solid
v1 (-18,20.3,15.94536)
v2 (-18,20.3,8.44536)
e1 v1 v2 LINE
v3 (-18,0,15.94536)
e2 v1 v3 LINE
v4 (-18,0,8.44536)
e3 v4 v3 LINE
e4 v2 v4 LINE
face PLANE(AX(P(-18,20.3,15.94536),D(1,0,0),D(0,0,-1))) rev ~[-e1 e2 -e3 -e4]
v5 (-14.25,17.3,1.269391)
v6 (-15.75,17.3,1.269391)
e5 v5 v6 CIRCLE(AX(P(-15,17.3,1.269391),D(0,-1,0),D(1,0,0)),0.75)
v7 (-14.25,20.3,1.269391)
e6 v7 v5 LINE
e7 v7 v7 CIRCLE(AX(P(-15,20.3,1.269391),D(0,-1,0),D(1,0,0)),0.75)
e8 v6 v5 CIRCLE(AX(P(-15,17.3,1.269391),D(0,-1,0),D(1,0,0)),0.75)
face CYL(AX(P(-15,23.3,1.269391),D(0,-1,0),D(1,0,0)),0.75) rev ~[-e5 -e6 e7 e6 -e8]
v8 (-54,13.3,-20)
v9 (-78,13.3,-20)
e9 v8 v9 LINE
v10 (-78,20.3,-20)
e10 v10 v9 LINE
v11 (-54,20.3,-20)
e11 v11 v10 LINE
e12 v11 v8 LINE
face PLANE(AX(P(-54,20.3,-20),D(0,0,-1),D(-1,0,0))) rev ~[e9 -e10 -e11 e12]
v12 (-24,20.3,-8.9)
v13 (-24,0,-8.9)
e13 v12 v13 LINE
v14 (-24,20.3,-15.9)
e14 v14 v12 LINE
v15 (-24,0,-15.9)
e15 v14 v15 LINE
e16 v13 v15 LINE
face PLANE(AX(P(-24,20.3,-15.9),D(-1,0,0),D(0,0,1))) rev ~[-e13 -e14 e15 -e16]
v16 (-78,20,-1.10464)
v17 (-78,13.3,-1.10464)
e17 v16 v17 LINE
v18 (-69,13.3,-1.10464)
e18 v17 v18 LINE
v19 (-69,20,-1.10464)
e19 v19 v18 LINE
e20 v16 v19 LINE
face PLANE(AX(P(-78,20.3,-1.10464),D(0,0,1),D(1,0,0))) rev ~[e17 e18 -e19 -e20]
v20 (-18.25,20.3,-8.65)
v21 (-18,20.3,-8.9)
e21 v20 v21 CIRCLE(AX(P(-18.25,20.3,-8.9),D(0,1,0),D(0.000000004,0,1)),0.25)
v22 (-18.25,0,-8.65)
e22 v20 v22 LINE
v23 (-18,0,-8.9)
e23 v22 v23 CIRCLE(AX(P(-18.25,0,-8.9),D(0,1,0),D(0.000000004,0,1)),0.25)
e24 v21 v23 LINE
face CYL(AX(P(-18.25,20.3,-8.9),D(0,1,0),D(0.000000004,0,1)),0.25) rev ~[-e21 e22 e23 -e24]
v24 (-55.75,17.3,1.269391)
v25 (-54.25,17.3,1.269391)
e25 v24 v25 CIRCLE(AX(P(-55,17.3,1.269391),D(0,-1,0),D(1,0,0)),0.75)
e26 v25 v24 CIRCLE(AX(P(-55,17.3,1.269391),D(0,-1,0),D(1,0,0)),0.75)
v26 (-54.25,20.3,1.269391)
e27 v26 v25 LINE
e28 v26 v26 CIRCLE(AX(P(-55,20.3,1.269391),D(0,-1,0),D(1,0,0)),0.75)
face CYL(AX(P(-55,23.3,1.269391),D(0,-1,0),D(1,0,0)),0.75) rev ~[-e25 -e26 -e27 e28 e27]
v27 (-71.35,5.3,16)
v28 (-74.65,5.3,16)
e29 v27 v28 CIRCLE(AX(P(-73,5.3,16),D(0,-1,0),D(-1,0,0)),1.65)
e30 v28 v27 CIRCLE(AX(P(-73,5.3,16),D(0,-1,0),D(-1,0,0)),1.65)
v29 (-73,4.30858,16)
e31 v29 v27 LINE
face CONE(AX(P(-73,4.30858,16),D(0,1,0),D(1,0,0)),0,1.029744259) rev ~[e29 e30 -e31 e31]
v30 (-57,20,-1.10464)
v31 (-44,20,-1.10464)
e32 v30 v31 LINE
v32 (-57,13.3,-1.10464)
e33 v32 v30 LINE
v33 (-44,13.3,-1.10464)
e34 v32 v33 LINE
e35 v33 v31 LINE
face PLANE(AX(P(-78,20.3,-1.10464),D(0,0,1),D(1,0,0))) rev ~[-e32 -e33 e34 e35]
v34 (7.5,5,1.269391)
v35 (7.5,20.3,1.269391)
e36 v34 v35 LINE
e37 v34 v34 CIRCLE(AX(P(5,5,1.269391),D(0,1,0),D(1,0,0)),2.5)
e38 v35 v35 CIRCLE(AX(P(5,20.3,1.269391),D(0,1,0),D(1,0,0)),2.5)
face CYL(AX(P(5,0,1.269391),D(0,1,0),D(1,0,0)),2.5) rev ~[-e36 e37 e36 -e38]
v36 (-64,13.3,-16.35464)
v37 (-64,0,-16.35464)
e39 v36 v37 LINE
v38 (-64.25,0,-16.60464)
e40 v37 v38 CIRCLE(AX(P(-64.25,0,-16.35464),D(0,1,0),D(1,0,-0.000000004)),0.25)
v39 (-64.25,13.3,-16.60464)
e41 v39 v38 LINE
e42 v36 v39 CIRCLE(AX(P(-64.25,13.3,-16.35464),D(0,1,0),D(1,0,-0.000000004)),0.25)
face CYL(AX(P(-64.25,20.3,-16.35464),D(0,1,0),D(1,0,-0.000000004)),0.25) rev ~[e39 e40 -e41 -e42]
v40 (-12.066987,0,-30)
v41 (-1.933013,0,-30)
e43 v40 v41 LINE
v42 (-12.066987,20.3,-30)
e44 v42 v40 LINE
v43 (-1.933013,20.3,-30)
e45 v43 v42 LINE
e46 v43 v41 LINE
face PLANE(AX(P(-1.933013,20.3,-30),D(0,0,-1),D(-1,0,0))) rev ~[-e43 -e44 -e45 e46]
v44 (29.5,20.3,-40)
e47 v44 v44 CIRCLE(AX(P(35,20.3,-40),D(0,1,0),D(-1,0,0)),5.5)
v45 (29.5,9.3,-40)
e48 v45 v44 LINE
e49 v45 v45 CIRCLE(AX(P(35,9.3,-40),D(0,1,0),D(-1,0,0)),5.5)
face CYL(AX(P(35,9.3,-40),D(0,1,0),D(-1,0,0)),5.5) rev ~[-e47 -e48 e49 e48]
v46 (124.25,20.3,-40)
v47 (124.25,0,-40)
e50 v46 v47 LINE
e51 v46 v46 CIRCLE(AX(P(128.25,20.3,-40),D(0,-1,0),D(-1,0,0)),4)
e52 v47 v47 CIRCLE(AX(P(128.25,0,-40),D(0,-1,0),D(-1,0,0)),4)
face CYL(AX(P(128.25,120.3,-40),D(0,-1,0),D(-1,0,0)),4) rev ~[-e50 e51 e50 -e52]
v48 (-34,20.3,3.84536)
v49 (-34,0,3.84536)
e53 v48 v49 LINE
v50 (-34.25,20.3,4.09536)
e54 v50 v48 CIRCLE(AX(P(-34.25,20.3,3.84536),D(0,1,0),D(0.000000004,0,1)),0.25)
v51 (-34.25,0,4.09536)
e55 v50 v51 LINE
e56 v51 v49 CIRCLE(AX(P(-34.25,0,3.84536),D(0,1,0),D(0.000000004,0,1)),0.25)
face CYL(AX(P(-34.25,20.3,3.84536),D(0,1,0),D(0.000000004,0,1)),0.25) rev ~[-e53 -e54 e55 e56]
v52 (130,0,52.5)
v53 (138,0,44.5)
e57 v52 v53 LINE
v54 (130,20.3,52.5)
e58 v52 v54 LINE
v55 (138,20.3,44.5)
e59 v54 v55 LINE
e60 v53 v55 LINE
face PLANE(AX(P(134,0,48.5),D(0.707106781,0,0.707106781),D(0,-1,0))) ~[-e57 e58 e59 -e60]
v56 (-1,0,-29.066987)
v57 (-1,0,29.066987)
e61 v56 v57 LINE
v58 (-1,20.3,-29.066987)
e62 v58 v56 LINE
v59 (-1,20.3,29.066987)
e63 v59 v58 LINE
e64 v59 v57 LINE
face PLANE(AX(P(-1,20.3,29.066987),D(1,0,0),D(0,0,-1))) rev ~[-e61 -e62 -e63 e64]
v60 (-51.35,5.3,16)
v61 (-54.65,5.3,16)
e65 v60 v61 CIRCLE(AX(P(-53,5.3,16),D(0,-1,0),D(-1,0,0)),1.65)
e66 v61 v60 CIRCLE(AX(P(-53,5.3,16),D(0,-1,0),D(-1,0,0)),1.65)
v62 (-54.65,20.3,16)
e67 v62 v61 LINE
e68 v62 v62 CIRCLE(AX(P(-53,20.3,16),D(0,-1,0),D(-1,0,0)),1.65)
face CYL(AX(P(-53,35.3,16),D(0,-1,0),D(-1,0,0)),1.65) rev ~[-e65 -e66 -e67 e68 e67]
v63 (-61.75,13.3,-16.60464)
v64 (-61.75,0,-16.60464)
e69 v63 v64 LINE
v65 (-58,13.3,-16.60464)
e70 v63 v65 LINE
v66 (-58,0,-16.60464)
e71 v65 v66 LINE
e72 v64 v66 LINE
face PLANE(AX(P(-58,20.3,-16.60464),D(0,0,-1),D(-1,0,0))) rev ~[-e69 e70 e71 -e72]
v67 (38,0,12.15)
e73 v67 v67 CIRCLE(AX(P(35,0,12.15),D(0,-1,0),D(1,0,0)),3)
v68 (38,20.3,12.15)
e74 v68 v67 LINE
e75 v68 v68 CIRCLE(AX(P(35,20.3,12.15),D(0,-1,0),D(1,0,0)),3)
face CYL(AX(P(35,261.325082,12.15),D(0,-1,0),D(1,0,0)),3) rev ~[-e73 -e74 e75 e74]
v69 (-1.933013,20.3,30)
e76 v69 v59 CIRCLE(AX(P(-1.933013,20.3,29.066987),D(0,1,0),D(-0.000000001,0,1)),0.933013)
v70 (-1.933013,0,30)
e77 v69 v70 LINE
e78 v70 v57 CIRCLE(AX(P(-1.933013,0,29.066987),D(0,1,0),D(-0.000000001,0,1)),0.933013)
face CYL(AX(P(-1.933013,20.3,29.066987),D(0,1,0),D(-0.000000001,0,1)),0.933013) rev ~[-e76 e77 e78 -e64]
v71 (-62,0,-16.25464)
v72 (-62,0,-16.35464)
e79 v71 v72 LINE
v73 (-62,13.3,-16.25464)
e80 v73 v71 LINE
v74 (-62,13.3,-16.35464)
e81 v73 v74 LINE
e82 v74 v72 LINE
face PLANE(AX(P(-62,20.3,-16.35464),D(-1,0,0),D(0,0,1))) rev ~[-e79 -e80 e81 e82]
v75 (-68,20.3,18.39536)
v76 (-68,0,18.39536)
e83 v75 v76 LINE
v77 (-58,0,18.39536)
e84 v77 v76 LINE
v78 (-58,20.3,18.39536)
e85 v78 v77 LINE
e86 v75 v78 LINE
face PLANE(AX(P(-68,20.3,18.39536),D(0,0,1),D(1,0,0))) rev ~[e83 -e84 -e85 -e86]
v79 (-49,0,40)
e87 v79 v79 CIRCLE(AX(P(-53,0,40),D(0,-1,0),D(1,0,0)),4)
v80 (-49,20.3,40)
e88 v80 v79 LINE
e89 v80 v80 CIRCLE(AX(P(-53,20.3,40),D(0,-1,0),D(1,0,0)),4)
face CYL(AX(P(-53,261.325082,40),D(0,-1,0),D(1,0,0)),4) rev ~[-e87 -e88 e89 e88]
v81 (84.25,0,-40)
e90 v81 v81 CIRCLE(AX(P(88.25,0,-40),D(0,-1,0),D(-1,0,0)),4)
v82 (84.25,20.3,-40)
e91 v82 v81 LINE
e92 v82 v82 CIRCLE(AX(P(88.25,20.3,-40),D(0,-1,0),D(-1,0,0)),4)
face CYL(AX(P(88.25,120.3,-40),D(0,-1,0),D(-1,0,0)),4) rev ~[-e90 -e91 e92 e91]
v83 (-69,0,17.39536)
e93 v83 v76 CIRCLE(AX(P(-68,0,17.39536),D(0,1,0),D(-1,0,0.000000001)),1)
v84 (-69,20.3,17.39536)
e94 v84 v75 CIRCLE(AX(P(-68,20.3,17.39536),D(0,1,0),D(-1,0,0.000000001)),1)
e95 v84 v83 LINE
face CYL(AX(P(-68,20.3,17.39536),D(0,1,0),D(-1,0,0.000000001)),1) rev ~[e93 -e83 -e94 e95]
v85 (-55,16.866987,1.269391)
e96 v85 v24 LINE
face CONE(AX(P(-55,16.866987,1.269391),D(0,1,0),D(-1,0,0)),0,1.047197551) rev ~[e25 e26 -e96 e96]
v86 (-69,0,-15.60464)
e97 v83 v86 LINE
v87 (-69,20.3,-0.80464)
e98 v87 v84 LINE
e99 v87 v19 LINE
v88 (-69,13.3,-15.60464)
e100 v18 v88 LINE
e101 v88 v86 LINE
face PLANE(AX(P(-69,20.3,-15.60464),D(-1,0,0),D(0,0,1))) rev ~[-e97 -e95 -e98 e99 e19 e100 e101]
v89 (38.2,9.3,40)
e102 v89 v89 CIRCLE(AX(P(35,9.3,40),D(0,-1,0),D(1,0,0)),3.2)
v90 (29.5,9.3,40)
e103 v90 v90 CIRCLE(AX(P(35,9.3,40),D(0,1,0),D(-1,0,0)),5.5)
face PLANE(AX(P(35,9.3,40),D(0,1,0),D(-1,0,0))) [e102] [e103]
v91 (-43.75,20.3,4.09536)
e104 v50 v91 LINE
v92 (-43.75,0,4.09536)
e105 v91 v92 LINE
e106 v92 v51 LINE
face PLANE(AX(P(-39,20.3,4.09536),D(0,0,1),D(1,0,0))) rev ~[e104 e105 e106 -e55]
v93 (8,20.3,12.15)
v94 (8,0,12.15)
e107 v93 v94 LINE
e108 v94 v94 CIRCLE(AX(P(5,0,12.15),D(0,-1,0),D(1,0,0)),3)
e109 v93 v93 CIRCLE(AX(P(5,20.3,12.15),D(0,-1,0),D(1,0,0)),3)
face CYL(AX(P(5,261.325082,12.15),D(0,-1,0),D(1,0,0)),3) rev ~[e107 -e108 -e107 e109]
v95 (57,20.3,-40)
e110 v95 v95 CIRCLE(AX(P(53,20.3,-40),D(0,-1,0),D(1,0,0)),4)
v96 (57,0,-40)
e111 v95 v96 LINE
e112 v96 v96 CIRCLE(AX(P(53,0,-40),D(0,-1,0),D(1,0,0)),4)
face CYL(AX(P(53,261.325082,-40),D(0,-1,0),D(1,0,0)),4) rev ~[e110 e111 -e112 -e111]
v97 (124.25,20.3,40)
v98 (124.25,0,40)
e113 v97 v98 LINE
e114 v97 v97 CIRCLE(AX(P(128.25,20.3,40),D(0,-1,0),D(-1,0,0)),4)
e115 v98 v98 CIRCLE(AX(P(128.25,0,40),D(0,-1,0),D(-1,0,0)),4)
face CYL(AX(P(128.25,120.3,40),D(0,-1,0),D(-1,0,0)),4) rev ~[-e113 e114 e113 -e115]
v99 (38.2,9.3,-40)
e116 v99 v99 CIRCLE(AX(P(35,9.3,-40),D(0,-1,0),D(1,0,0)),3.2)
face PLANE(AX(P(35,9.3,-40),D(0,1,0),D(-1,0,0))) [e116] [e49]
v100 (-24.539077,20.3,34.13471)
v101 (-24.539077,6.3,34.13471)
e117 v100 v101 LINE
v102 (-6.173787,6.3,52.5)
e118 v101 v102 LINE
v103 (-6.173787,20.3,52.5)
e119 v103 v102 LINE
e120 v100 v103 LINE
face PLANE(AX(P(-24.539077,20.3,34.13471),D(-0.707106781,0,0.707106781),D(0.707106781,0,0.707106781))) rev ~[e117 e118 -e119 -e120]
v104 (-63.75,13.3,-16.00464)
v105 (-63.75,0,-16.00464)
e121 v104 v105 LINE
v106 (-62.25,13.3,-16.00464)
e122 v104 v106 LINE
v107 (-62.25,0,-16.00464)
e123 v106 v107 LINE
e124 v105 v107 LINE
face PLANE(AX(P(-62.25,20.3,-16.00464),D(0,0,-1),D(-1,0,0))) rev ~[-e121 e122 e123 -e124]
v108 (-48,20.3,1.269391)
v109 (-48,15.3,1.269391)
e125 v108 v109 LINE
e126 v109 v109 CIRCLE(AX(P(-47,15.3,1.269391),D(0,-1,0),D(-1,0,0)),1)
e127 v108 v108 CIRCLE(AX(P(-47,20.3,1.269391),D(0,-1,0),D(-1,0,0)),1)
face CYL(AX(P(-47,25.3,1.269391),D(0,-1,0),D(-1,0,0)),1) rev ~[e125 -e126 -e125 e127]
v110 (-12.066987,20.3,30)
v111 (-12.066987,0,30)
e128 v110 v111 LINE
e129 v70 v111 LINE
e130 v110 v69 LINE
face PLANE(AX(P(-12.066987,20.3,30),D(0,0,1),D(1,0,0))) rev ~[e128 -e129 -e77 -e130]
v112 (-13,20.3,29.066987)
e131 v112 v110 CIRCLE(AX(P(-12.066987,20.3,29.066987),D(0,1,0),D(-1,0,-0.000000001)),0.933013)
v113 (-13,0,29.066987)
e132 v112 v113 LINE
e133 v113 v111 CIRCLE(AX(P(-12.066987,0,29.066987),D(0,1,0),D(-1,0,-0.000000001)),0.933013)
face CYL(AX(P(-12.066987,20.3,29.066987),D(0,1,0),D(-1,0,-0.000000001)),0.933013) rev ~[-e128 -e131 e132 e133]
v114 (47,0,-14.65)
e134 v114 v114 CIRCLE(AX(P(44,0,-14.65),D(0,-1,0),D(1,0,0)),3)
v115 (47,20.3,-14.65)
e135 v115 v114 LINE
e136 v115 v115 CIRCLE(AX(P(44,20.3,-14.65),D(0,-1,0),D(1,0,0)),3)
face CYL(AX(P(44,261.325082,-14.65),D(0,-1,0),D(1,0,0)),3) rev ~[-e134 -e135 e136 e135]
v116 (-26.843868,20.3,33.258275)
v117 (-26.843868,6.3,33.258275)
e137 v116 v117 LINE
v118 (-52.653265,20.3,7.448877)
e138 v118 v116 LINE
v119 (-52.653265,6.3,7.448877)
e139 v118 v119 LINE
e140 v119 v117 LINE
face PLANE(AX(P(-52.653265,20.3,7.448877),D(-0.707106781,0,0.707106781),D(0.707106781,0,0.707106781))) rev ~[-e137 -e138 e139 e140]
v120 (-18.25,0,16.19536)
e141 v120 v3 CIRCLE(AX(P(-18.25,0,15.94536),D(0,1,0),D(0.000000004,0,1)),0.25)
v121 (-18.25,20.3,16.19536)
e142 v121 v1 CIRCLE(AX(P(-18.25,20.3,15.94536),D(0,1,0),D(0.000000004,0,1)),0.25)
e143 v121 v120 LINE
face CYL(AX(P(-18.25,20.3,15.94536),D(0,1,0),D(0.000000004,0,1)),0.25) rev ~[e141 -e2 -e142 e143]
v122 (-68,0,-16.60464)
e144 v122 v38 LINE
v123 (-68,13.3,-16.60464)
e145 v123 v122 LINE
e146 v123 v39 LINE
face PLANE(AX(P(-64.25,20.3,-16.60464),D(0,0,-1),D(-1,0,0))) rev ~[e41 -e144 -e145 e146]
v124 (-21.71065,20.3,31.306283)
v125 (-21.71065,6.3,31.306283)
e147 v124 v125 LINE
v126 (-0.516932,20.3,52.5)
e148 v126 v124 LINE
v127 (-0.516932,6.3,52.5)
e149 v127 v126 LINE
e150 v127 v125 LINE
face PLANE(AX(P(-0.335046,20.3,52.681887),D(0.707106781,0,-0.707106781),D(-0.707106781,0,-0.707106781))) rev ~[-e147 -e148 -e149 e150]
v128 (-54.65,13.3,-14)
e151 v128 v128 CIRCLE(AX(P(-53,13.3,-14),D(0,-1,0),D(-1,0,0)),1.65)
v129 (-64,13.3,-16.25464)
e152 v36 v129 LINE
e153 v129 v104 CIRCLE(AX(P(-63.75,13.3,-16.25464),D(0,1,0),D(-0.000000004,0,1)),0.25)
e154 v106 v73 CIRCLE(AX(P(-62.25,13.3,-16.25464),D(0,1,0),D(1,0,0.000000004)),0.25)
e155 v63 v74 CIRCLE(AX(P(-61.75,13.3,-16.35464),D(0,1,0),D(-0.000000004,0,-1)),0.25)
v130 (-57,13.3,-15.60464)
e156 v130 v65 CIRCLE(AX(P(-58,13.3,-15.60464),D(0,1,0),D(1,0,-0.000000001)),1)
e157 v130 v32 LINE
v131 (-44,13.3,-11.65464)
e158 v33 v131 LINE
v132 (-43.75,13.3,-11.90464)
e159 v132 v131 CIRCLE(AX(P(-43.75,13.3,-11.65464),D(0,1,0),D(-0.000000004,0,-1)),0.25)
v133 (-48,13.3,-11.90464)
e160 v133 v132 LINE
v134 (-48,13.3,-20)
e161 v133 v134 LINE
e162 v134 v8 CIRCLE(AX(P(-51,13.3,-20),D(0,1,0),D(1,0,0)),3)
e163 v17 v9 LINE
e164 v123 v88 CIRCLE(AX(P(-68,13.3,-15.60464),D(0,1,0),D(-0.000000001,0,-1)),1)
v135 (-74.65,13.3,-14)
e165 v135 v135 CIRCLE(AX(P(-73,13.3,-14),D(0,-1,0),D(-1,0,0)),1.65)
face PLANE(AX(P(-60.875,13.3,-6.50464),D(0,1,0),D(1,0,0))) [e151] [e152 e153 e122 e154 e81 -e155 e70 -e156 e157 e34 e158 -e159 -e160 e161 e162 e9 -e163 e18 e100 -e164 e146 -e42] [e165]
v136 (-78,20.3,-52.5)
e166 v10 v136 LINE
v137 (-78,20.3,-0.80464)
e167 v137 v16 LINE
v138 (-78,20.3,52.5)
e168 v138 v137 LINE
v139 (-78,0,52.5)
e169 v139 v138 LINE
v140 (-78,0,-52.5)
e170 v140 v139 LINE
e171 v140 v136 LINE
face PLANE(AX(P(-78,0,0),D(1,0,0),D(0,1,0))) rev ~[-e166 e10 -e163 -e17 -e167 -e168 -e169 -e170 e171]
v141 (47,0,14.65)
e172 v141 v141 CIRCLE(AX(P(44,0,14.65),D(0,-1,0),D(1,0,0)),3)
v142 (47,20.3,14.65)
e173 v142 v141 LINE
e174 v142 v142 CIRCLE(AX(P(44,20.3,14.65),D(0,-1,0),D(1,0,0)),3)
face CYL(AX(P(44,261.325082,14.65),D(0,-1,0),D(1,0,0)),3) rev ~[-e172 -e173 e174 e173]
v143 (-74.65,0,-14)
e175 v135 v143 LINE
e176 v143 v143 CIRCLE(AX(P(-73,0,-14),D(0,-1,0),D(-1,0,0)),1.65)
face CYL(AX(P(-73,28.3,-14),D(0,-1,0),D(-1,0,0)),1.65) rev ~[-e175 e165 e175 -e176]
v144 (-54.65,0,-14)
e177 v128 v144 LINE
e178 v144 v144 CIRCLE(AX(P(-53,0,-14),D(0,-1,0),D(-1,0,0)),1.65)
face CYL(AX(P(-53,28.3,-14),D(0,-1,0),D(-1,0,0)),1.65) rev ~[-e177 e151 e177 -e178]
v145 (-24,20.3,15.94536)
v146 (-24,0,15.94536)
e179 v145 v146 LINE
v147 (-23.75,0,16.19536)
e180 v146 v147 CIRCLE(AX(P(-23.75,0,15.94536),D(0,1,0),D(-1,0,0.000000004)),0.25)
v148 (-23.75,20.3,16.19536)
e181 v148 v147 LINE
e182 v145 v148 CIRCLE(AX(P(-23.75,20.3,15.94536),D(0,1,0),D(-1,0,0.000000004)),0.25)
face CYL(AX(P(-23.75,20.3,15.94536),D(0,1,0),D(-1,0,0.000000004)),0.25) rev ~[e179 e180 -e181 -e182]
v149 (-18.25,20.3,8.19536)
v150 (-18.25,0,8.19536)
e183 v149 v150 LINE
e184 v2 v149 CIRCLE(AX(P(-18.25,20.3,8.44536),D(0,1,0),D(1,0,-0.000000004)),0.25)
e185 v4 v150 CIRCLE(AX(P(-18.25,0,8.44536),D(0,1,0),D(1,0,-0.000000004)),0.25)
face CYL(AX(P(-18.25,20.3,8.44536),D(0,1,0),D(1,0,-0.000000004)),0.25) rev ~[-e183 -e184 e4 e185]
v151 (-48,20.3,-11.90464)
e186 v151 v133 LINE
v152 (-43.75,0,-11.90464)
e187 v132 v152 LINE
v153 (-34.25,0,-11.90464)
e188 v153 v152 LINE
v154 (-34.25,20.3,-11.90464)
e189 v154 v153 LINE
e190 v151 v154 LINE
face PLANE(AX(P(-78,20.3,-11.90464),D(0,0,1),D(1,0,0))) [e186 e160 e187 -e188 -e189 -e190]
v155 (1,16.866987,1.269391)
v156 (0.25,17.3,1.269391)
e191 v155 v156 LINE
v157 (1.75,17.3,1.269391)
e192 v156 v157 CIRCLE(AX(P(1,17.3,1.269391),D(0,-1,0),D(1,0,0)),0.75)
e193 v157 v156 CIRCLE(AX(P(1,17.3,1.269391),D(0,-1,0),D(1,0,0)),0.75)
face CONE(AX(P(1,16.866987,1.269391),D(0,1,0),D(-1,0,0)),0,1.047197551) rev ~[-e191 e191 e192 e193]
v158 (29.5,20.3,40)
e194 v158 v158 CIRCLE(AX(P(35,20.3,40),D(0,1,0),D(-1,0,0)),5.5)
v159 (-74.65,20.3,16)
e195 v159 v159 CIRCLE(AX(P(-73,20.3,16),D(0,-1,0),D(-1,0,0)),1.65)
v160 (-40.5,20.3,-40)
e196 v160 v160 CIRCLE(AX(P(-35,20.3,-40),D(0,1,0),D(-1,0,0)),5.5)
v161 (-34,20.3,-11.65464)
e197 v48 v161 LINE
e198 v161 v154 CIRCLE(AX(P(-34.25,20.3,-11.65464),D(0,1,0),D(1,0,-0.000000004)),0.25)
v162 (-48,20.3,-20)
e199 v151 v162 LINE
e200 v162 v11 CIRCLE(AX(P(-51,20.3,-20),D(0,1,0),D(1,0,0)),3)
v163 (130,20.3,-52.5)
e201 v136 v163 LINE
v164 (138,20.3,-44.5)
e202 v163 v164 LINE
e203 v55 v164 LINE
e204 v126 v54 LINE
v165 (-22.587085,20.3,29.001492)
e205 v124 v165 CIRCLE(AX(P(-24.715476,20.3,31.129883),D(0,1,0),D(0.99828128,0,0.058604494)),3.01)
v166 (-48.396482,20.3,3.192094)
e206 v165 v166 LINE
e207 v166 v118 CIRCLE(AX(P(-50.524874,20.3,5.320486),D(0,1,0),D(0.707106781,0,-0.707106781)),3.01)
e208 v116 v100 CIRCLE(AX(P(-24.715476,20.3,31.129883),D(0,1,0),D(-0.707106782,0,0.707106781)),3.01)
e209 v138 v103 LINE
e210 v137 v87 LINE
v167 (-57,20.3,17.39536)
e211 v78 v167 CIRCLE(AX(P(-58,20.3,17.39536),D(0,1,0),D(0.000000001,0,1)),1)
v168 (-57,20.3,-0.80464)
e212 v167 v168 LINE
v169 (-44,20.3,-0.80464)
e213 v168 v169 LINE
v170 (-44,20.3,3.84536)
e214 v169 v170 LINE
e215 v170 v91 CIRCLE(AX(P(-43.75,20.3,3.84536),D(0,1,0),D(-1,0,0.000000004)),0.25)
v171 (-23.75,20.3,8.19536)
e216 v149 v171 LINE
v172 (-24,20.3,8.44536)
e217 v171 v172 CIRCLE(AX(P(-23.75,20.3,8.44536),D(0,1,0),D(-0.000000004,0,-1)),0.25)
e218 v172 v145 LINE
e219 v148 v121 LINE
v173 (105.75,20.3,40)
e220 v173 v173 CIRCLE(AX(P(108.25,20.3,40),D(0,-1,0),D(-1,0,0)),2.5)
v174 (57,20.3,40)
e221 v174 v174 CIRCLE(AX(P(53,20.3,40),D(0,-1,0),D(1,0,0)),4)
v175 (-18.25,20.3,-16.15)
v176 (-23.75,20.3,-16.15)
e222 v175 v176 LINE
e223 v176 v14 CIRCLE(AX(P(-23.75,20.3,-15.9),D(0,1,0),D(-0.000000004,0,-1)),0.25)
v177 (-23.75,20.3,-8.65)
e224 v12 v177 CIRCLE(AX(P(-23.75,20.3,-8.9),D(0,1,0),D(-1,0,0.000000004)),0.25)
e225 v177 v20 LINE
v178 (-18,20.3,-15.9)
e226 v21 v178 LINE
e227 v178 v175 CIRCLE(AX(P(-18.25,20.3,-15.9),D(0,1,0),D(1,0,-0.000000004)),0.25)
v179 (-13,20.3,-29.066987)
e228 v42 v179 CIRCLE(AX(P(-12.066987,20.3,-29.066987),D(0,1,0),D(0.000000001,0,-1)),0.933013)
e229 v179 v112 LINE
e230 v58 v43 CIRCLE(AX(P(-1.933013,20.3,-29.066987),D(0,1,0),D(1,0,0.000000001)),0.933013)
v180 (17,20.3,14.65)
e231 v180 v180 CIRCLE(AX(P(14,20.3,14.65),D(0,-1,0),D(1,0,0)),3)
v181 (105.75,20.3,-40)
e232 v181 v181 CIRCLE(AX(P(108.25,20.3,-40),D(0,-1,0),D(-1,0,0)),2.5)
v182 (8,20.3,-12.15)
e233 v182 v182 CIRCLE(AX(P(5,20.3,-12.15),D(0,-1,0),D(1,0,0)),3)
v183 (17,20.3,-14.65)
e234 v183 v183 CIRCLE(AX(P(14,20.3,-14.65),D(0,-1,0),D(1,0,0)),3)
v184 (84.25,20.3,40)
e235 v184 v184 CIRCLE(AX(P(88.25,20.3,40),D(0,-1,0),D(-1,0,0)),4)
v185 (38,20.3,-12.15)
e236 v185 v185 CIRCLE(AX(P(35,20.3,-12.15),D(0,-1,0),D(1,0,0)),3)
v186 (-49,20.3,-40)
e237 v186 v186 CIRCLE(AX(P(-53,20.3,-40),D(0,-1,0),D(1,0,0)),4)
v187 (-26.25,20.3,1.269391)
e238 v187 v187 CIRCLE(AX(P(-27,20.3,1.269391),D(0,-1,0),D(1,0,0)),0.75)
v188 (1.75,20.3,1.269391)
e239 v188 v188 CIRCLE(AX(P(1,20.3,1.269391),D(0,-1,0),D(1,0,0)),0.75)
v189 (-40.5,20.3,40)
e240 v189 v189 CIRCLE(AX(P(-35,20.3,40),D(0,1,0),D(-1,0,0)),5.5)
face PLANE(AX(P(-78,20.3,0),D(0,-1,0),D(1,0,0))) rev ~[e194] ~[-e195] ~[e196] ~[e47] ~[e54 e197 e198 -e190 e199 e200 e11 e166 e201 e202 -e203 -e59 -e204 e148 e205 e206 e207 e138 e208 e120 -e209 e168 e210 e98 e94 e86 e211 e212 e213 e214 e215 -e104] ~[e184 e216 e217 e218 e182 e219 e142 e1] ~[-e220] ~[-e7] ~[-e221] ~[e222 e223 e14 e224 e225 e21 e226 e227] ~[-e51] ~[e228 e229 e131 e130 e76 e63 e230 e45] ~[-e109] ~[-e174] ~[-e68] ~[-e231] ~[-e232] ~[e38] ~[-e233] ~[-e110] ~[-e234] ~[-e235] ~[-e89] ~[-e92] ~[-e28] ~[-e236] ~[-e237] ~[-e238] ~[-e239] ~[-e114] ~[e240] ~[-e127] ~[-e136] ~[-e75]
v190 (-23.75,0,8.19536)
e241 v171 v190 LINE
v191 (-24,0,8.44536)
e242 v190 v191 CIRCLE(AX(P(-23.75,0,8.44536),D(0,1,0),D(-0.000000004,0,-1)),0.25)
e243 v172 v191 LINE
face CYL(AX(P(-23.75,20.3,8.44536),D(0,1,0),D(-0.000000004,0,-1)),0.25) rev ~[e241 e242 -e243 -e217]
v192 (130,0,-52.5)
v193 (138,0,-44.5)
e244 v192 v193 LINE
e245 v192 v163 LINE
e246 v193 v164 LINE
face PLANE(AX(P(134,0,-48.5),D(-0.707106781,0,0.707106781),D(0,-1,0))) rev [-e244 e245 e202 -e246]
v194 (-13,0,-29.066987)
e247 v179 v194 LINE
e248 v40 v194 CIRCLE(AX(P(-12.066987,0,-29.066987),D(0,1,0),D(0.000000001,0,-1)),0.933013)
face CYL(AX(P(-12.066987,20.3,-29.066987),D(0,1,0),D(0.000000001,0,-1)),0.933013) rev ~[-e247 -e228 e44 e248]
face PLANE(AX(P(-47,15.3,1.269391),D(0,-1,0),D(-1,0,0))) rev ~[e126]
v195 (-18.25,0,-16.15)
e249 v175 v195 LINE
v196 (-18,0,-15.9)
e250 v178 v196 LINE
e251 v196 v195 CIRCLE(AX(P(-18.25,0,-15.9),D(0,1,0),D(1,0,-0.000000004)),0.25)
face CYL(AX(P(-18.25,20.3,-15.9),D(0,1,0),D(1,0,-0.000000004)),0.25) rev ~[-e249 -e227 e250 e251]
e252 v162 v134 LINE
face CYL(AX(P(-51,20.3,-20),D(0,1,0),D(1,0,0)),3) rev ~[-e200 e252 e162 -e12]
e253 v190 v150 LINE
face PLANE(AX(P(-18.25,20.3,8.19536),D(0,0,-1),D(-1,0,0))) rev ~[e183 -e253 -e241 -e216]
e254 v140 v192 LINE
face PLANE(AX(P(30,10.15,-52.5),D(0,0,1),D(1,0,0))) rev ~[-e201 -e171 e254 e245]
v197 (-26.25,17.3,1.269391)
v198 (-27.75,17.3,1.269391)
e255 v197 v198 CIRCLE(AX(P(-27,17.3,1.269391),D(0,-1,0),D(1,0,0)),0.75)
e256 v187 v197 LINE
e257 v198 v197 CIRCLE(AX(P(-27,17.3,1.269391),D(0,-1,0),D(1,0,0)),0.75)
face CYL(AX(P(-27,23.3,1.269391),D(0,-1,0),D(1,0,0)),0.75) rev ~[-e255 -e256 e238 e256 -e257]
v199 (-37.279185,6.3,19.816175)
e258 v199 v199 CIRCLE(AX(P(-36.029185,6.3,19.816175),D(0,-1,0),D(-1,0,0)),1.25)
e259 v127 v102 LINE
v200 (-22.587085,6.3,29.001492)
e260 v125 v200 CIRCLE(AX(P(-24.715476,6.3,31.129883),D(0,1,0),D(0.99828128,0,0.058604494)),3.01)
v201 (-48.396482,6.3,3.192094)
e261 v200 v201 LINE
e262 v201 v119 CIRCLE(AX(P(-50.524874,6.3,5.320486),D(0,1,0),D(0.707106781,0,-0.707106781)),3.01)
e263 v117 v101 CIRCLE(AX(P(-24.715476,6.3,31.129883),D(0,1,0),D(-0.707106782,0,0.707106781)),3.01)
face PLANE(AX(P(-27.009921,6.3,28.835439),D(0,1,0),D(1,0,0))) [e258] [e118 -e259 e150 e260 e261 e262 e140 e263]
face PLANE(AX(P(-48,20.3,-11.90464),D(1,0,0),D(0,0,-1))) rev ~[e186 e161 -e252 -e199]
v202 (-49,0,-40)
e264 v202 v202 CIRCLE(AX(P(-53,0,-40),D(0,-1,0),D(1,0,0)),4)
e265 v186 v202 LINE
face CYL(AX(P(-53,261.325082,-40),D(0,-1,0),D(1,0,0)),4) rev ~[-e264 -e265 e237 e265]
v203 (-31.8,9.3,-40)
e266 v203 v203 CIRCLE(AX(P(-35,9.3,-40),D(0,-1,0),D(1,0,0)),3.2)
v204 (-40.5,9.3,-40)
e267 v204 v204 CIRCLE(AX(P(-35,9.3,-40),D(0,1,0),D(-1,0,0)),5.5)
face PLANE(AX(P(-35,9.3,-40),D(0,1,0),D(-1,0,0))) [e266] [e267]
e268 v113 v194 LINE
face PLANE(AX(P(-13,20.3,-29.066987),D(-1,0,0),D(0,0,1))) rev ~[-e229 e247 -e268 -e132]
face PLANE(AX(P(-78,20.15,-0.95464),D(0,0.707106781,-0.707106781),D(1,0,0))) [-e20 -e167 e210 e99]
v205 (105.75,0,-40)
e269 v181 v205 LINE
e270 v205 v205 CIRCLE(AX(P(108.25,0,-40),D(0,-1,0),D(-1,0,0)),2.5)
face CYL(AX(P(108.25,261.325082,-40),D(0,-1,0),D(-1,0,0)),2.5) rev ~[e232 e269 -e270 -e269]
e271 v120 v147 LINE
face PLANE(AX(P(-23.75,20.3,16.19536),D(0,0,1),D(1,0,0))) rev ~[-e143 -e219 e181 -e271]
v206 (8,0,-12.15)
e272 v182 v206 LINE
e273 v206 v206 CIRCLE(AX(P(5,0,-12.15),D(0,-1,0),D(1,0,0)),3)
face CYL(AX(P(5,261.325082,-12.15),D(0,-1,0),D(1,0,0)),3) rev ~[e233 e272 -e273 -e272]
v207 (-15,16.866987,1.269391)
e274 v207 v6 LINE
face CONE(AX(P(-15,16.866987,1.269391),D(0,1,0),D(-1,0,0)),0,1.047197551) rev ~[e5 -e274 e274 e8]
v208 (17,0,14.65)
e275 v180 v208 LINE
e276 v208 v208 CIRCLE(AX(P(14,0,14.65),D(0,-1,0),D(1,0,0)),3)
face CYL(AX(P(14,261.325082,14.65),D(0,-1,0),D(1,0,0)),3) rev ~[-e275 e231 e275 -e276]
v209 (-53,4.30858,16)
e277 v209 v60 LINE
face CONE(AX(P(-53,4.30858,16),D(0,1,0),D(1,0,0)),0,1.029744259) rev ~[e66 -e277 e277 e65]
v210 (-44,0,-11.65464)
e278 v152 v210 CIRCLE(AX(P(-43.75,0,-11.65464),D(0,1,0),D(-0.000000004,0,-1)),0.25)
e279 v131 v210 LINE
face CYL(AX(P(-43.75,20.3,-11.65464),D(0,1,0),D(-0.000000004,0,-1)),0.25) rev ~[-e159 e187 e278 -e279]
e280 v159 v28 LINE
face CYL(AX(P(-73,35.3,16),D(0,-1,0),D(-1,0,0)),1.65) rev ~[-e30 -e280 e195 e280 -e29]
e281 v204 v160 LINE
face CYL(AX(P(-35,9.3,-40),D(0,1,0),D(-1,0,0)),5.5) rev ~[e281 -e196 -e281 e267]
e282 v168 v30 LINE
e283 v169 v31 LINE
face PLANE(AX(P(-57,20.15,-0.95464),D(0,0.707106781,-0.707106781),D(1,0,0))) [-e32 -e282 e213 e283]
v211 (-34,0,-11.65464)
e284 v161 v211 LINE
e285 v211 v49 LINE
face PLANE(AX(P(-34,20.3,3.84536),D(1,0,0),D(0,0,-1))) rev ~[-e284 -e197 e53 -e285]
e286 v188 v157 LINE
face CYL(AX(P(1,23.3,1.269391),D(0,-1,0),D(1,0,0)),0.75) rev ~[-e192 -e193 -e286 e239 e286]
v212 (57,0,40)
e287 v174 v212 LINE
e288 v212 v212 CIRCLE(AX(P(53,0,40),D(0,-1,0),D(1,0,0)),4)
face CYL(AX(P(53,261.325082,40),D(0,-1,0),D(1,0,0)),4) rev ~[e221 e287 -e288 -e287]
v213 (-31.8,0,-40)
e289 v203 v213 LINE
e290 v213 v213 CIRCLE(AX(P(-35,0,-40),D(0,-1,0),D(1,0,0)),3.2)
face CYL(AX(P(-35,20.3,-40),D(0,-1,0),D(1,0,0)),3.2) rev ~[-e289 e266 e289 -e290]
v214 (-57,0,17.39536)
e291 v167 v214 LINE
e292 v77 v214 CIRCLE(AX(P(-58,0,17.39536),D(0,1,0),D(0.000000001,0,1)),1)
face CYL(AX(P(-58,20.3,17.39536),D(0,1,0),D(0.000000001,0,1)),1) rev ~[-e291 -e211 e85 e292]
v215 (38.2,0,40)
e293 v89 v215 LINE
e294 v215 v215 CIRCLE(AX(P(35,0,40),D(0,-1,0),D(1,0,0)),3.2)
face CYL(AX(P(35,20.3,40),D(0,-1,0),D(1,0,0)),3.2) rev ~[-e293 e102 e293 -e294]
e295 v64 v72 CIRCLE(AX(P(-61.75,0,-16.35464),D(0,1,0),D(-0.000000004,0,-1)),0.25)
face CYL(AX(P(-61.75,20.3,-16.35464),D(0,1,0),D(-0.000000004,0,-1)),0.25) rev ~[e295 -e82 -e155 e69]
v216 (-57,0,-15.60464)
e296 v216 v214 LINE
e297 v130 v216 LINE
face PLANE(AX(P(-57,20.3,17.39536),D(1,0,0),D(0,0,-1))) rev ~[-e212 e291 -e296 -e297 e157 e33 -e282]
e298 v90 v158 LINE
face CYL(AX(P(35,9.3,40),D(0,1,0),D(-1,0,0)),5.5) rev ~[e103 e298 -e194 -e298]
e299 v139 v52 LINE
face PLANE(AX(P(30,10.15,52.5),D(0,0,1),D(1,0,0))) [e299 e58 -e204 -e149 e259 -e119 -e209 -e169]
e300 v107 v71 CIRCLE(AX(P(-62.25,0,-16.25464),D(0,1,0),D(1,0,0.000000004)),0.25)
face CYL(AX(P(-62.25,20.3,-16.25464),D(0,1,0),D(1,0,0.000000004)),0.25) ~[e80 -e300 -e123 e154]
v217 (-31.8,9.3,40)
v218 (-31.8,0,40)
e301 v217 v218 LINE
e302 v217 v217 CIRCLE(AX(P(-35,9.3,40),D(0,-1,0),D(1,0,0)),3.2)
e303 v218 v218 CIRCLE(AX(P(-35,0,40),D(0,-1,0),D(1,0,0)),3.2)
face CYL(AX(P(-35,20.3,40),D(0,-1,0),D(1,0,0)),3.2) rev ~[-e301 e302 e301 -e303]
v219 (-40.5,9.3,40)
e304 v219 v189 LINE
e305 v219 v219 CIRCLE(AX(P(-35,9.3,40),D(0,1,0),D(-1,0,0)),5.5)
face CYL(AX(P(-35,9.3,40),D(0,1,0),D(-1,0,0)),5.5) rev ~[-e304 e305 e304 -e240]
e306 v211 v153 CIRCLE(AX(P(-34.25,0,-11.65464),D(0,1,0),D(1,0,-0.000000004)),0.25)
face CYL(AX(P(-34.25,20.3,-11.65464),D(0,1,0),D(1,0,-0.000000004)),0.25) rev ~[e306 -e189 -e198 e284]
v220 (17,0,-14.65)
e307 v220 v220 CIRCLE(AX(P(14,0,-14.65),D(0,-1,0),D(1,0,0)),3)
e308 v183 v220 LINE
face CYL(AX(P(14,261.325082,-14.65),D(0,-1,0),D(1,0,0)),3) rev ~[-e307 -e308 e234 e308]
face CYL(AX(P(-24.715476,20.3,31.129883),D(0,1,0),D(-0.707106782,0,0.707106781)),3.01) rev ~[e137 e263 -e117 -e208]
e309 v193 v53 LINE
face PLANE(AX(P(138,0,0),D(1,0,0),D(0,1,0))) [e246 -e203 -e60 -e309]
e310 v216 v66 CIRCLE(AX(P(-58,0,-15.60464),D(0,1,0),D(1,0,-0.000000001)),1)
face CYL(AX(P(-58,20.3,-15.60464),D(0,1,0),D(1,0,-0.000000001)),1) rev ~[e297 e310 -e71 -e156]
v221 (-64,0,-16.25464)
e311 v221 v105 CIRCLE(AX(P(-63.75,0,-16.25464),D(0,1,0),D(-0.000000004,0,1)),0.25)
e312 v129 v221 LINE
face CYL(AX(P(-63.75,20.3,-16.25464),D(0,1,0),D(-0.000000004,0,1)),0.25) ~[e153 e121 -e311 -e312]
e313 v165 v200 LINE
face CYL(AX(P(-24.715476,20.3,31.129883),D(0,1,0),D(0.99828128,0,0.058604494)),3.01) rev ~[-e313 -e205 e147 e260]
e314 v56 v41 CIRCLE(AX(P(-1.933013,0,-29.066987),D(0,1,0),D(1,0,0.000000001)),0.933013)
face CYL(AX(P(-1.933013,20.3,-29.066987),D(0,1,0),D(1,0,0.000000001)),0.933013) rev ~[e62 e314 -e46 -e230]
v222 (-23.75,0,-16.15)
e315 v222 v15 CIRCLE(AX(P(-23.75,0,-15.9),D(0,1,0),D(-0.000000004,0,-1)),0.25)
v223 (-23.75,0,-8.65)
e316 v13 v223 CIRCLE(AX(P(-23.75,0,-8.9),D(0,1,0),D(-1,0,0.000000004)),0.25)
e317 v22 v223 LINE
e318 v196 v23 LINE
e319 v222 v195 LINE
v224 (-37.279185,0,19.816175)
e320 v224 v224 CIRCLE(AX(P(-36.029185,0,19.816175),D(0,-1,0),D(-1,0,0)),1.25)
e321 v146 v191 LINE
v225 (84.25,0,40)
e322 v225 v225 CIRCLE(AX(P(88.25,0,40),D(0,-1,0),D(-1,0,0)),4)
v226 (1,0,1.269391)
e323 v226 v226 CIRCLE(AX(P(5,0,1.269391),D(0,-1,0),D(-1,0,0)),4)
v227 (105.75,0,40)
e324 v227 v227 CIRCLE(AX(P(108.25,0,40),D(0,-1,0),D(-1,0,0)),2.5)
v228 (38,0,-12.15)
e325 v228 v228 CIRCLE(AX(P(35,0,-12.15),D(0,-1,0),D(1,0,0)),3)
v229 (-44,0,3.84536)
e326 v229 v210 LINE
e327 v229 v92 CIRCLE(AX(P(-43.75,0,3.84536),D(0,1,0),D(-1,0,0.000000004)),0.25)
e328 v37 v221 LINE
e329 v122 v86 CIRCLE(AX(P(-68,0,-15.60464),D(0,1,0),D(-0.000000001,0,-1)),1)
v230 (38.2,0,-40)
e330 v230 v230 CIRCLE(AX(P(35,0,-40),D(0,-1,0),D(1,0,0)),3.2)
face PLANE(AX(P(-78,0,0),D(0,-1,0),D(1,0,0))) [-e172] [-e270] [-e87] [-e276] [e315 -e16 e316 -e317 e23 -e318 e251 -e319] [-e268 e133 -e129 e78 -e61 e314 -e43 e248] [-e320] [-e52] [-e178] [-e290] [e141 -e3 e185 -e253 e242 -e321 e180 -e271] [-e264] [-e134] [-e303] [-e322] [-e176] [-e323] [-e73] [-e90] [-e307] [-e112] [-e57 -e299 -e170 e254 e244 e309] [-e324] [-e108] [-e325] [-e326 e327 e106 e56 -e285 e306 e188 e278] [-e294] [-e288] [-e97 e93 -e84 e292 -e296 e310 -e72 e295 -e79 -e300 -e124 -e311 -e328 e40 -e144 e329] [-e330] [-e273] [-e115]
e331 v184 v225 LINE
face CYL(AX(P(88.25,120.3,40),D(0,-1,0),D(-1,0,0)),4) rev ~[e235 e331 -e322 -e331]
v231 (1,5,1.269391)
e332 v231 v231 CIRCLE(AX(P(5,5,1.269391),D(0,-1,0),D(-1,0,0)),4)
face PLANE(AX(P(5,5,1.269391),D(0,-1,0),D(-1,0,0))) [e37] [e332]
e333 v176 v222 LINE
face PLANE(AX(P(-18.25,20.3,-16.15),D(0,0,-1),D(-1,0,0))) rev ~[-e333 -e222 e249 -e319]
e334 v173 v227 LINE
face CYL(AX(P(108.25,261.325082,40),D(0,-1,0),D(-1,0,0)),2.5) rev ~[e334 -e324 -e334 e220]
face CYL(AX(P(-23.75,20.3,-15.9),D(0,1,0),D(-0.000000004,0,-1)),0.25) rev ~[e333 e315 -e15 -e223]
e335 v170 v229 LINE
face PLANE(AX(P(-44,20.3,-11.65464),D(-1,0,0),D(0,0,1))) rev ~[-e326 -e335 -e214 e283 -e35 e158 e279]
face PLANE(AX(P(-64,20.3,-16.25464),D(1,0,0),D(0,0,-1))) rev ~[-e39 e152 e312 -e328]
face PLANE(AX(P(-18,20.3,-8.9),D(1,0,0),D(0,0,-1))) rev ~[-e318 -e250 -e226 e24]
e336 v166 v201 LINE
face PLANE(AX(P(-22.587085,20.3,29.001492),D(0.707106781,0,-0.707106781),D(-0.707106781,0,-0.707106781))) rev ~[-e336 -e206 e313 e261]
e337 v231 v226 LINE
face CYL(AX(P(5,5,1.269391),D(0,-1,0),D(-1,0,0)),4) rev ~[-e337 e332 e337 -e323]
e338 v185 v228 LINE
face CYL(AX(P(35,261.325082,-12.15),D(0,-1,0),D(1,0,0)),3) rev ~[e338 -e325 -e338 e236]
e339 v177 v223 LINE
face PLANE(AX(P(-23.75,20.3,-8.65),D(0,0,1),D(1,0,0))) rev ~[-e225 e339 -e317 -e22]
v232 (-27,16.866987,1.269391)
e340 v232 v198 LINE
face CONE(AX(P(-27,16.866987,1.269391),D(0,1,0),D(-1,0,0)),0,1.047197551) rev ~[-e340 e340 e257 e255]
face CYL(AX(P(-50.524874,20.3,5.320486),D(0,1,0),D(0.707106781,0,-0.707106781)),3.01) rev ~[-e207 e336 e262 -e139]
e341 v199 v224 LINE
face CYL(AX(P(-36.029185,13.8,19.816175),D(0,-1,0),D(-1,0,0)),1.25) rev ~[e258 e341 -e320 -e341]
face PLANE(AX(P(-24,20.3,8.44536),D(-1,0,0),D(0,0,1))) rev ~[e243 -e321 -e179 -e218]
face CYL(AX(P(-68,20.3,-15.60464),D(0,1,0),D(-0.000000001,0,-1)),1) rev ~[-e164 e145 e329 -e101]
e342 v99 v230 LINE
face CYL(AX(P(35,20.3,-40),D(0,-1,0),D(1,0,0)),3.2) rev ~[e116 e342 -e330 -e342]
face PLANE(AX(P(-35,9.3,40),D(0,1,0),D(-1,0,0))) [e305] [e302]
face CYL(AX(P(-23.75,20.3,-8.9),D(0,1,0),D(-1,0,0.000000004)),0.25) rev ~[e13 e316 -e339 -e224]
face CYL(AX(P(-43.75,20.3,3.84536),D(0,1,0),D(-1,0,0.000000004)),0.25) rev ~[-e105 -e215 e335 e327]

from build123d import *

# Parameters (mm, degrees)
SKETCH1_W                                           = 216
SKETCH1_H                                           = 20.3
EXTRUDE1_DEPTH                                      = 52.5
CBORE_FOR_M6_HEX_SOCKET_HEAD_CAP_SCREW1_D           = 6.4
CBORE_FOR_M6_HEX_SOCKET_HEAD_CAP_SCREW1_CBORE_D     = 11
CBORE_FOR_M6_HEX_SOCKET_HEAD_CAP_SCREW1_CBORE_DEPTH = 11
LPATTERN5_COUNT                                     = 2
LPATTERN5_PITCH                                     = 70
LPATTERN5_COUNT_DIR2                                = 2
LPATTERN5_PITCH_DIR2                                = 80
HOLE1_D                                             = 8
LPATTERN6_COUNT                                     = 2
LPATTERN6_PITCH                                     = 106
LPATTERN6_COUNT_DIR2                                = 2
LPATTERN6_PITCH_DIR2                                = 80
HOLE2_D                                             = 6
CUT_EXTRUDE2_DEPTH                                  = 21.3
HOLE3_D                                             = 5
HOLE3_DEPTH                                         = 100
HOLE3_CBORE_D                                       = 8
HOLE3_CBORE_DEPTH                                   = 5
CUT_EXTRUDE3_DEPTH                                  = 21.3
CUT_EXTRUDE4_DEPTH                                  = 21.3
CUT_EXTRUDE5_DEPTH                                  = 21.3
SKETCH26_W                                          = 34.25
SKETCH26_H                                          = 10.8
CUT_EXTRUDE6_DEPTH                                  = 7
CUT_EXTRUDE7_DEPTH                                  = 21.3
CHAMFER2_SIZE                                       = 0.3
HOLE4_D                                             = 1.5
HOLE4_DEPTH                                         = 3
HOLE4_TIP                                           = 0.433012702
CUT_EXTRUDE9_DEPTH                                  = 7
M4_TAPPED_HOLE1_D                                   = 3.3
M4_TAPPED_HOLE1_DEPTH                               = 15
M4_TAPPED_HOLE1_TIP                                 = 0.991420021
M4_TAPPED_HOLE2_D                                   = 3.3
M4_TAPPED_HOLE2_DEPTH                               = 15
M4_TAPPED_HOLE2_TIP                                 = 0.991420021
CHAMFER3_SIZE                                       = 8
HOLE5_D                                             = 8
HOLE5_DEPTH                                         = 100
M6_TAPPED_HOLE2_D                                   = 5
HOLE6_D                                             = 2
HOLE6_DEPTH                                         = 5
CUT_EXTRUDE10_DEPTH                                 = 14
M3_TAPPED_HOLE1_D                                   = 2.5
M3_TAPPED_HOLE1_DEPTH                               = 7.5
M3_TAPPED_HOLE1_TIP                                 = 0.751075774


with BuildPart() as part:
    # Sketch1 → Extrude1 (new body, symmetric)
    with BuildSketch(Plane.XY):
        with Locations((30, 10.15)):
            Rectangle(SKETCH1_W, SKETCH1_H)
    extrude(amount=EXTRUDE1_DEPTH, both=True)

    # CBORE for M6 Hex Socket Head Cap Screw1 (through all)
    with Locations(Plane(origin=(0, 20.3, 0), x_dir=(-1, 0, 0), z_dir=(0, 1, 0))):
        with Locations((35, -40)):
            cbore_for_m6_hex_socket_head_cap_screw1 = CounterBoreHole(CBORE_FOR_M6_HEX_SOCKET_HEAD_CAP_SCREW1_D / 2, CBORE_FOR_M6_HEX_SOCKET_HEAD_CAP_SCREW1_CBORE_D / 2, CBORE_FOR_M6_HEX_SOCKET_HEAD_CAP_SCREW1_CBORE_DEPTH)

    # LPattern5: CBORE for M6 Hex Socket Head Cap Screw1 2 × 2
    with Locations(*[(i * LPATTERN5_PITCH, 0, j * LPATTERN5_PITCH_DIR2) for i in range(LPATTERN5_COUNT) for j in range(LPATTERN5_COUNT_DIR2) if (i, j) != (0, 0)]):
        add(cbore_for_m6_hex_socket_head_cap_screw1, mode=Mode.SUBTRACT)

    # Hole1 (through all)
    with Locations(Plane(origin=(0, 20.3, 0), x_dir=(-1, 0, 0), z_dir=(0, 1, 0))):
        with Locations((53, -40)):
            hole1 = Hole(HOLE1_D / 2)

    # LPattern6: Hole1 2 × 2
    with Locations(*[(i * LPATTERN6_PITCH, 0, j * LPATTERN6_PITCH_DIR2) for i in range(LPATTERN6_COUNT) for j in range(LPATTERN6_COUNT_DIR2) if (i, j) != (0, 0)]):
        add(hole1, mode=Mode.SUBTRACT)

    # Hole2 (through all)
    with Locations(Plane(origin=(0, 20.3, 0), x_dir=(-1, 0, 0), z_dir=(0, 1, 0))):
        with Locations((-35, 12.15), (-35, -12.15), (-5, -12.15), (-5, 12.15), (-14, -14.65), (-14, 14.65), (-44, 14.65), (-44, -14.65)):
            Hole(HOLE2_D / 2)

    # Sketch20 → Cut-Extrude2 (cut, through all)
    with BuildSketch(Plane(origin=(0, 20.3, 0), x_dir=(1, 0, 0), z_dir=(0, 1, 0))):
        with BuildLine():
            Line((-1.933012804, 30), (-12.066987196, 30))
            ThreePointArc((-12.066987196, 30), (-12.726726877, 29.726726877), (-13, 29.066987196))
            Line((-13, 29.066987196), (-13, -29.066987196))
            ThreePointArc((-13, -29.066987196), (-12.726726877, -29.726726877), (-12.066987196, -30))
            Line((-12.066987196, -30), (-1.933012804, -30))
            ThreePointArc((-1.933012804, -30), (-1.273273123, -29.726726877), (-1, -29.066987196))
            Line((-1, -29.066987196), (-1, 29.066987196))
            ThreePointArc((-1, 29.066987196), (-1.273273123, 29.726726877), (-1.933012804, 30))
        make_face()
    extrude(amount=-CUT_EXTRUDE2_DEPTH, mode=Mode.SUBTRACT)

    # Hole3
    with Locations(Plane(origin=(0, 0, 0), x_dir=(-1, 0, 0), z_dir=(0, -1, 0))):
        with Locations((-5, -1.269390874)):
            CounterBoreHole(HOLE3_D / 2, HOLE3_CBORE_D / 2, HOLE3_CBORE_DEPTH, depth=HOLE3_DEPTH)

    # Sketch23 → Cut-Extrude3 (cut, through all)
    with BuildSketch(Plane(origin=(0, 20.3, 0), x_dir=(1, 0, 0), z_dir=(0, 1, 0))):
        with BuildLine():
            Line((-18.25, -8.195359581), (-23.75, -8.195359581))
            ThreePointArc((-23.75, -8.195359581), (-23.926776695, -8.268582886), (-24, -8.445359581))
            Line((-24, -8.445359581), (-24, -15.945359581))
            ThreePointArc((-24, -15.945359581), (-23.926776695, -16.122136276), (-23.75, -16.195359581))
            Line((-23.75, -16.195359581), (-18.25, -16.195359581))
            ThreePointArc((-18.25, -16.195359581), (-18.073223305, -16.122136276), (-18, -15.945359581))
            Line((-18, -15.945359581), (-18, -8.445359581))
            ThreePointArc((-18, -8.445359581), (-18.073223305, -8.268582886), (-18.25, -8.195359581))
        make_face()
        with BuildLine():
            Line((-18.25, 16.15), (-23.75, 16.15))
            ThreePointArc((-23.75, 16.15), (-23.926776695, 16.076776695), (-24, 15.9))
            Line((-24, 15.9), (-24, 8.9))
            ThreePointArc((-24, 8.9), (-23.926776695, 8.723223305), (-23.75, 8.65))
            Line((-23.75, 8.65), (-18.25, 8.65))
            ThreePointArc((-18.25, 8.65), (-18.073223305, 8.723223305), (-18, 8.9))
            Line((-18, 8.9), (-18, 15.9))
            ThreePointArc((-18, 15.9), (-18.073223305, 16.076776695), (-18.25, 16.15))
        make_face()
    extrude(amount=-CUT_EXTRUDE3_DEPTH, mode=Mode.SUBTRACT)

    # Sketch24 → Cut-Extrude4 (cut, through all)
    with BuildSketch(Plane(origin=(0, 20.3, 0), x_dir=(1, 0, 0), z_dir=(0, 1, 0))):
        with BuildLine():
            Line((-34.25, 11.904640419), (-39, 11.904640419))
            Line((-39, 11.904640419), (-39, -4.095359581))
            Line((-39, -4.095359581), (-34.25, -4.095359581))
            ThreePointArc((-34.25, -4.095359581), (-34.073223305, -4.022136276), (-34, -3.845359581))
            Line((-34, -3.845359581), (-34, 11.654640419))
            ThreePointArc((-34, 11.654640419), (-34.073223305, 11.831417114), (-34.25, 11.904640419))
        make_face()
    extrude(amount=-CUT_EXTRUDE4_DEPTH, mode=Mode.SUBTRACT)

    # Sketch25 → Cut-Extrude5 (cut, through all)
    with BuildSketch(Plane(origin=(0, 20.3, 0), x_dir=(1, 0, 0), z_dir=(0, 1, 0))):
        with BuildLine():
            Line((-43.75, -4.095359581), (-39, -4.095359581))
            Line((-39, -4.095359581), (-39, 11.904640419))
            Line((-39, 11.904640419), (-43.75, 11.904640419))
            ThreePointArc((-43.75, 11.904640419), (-43.926776695, 11.831417114), (-44, 11.654640419))
            Line((-44, 11.654640419), (-44, -3.845359581))
            ThreePointArc((-44, -3.845359581), (-43.926776695, -4.022136276), (-43.75, -4.095359581))
        make_face()
    extrude(amount=-CUT_EXTRUDE5_DEPTH, mode=Mode.SUBTRACT)

    # Sketch26 → Cut-Extrude6 (cut)
    with BuildSketch(Plane(origin=(0, 20.3, 0), x_dir=(1, 0, 0), z_dir=(0, 1, 0))):
        with Locations((-60.875, 6.504640419)):
            Rectangle(SKETCH26_W, SKETCH26_H)
    extrude(amount=-CUT_EXTRUDE6_DEPTH, mode=Mode.SUBTRACT)

    # Sketch27 → Cut-Extrude7 (cut, through all)
    with BuildSketch(Plane(origin=(0, 20.3, 0), x_dir=(1, 0, 0), z_dir=(0, 1, 0))):
        with BuildLine():
            Line((-64.25, 16.604640419), (-68, 16.604640419))
            ThreePointArc((-68, 16.604640419), (-68.707106781, 16.3117472), (-69, 15.604640419))
            Line((-69, 15.604640419), (-69, -17.395359581))
            ThreePointArc((-69, -17.395359581), (-68.707106781, -18.102466362), (-68, -18.395359581))
            Line((-68, -18.395359581), (-58, -18.395359581))
            ThreePointArc((-58, -18.395359581), (-57.292893219, -18.102466362), (-57, -17.395359581))
            Line((-57, -17.395359581), (-57, 15.604640419))
            ThreePointArc((-57, 15.604640419), (-57.292893219, 16.3117472), (-58, 16.604640419))
            Line((-58, 16.604640419), (-61.75, 16.604640419))
            ThreePointArc((-61.75, 16.604640419), (-61.926776695, 16.531417114), (-62, 16.354640419))
            Line((-62, 16.354640419), (-62, 16.254640419))
            ThreePointArc((-62, 16.254640419), (-62.073223305, 16.077863724), (-62.25, 16.004640419))
            Line((-62.25, 16.004640419), (-63.75, 16.004640419))
            ThreePointArc((-63.75, 16.004640419), (-63.926776695, 16.077863724), (-64, 16.254640419))
            Line((-64, 16.254640419), (-64, 16.354640419))
            ThreePointArc((-64, 16.354640419), (-64.073223305, 16.531417114), (-64.25, 16.604640419))
        make_face()
    extrude(amount=-CUT_EXTRUDE7_DEPTH, mode=Mode.SUBTRACT)

    # Chamfer2
    chamfer2_edges = [part.edges().sort_by_distance(p)[0] for p in [
        (-73.5, 20.3, -1.104640419),
        (-50.5, 20.3, -1.104640419),
    ]]
    chamfer(chamfer2_edges, length=CHAMFER2_SIZE)

    # Hole4
    with Locations(Plane(origin=(0, 20.3, 0), x_dir=(-1, 0, 0), z_dir=(0, 1, 0))):
        with Locations((-1, 1.269390874), (15, 1.269390874), (27, 1.269390874), (55, 1.269390874)):
            Hole(HOLE4_D / 2, depth=HOLE4_DEPTH)
            with Locations((0, 0, -(HOLE4_DEPTH + HOLE4_TIP / 2))):  # 120° drill point
                Cone(0, HOLE4_D / 2, HOLE4_TIP, mode=Mode.SUBTRACT)

    # Sketch30 → Cut-Extrude9 (cut)
    with BuildSketch(Plane(origin=(0, 20.3, 0), x_dir=(1, 0, 0), z_dir=(0, 1, 0))):
        with BuildLine():
            Line((-78, 11.904640419), (-48, 11.904640419))
            Line((-48, 11.904640419), (-48, 20))
            ThreePointArc((-48, 20), (-51, 23), (-54, 20))
            Line((-54, 20), (-78, 20))
            Line((-78, 20), (-78, 11.904640419))
        make_face()
    extrude(amount=-CUT_EXTRUDE9_DEPTH, mode=Mode.SUBTRACT)

    # M4 Tapped Hole1
    with Locations(Plane(origin=(0, 20.3, 0), x_dir=(1, 0, 0), z_dir=(0, 1, 0))):
        with Locations((-53, -16), (-73, -16)):
            Hole(M4_TAPPED_HOLE1_D / 2, depth=M4_TAPPED_HOLE1_DEPTH)
            with Locations((0, 0, -(M4_TAPPED_HOLE1_DEPTH + M4_TAPPED_HOLE1_TIP / 2))):  # 118° drill point
                Cone(0, M4_TAPPED_HOLE1_D / 2, M4_TAPPED_HOLE1_TIP, mode=Mode.SUBTRACT)

    # M4 Tapped Hole2
    with Locations(Plane(origin=(0, 13.3, 0), x_dir=(1, 0, 0), z_dir=(0, 1, 0))):
        with Locations((-73, 14), (-53, 14)):
            Hole(M4_TAPPED_HOLE2_D / 2, depth=M4_TAPPED_HOLE2_DEPTH)
            with Locations((0, 0, -(M4_TAPPED_HOLE2_DEPTH + M4_TAPPED_HOLE2_TIP / 2))):  # 118° drill point
                Cone(0, M4_TAPPED_HOLE2_D / 2, M4_TAPPED_HOLE2_TIP, mode=Mode.SUBTRACT)

    # Chamfer3
    chamfer3_edges = [part.edges().sort_by_distance(p)[0] for p in [
        (138, 10.15, 52.5),
        (138, 10.15, -52.5),
    ]]
    chamfer(chamfer3_edges, length=CHAMFER3_SIZE)

    # Hole5
    with Locations(Plane(origin=(0, 20.3, 0), x_dir=(1, 0, 0), z_dir=(0, 1, 0))):
        with Locations((88.25, 40), (128.25, 40), (88.25, -40), (128.25, -40)):
            Hole(HOLE5_D / 2, depth=HOLE5_DEPTH)

    # M6 Tapped Hole2 (through all)
    with Locations(Plane(origin=(0, 20.3, 0), x_dir=(1, 0, 0), z_dir=(0, 1, 0))):
        with Locations((108.25, 40), (108.25, -40)):
            Hole(M6_TAPPED_HOLE2_D / 2)

    # Hole6
    with Locations(Plane(origin=(0, 20.3, 0), x_dir=(1, 0, 0), z_dir=(0, 1, 0))):
        with Locations((-47, -1.269390874)):
            Hole(HOLE6_D / 2, depth=HOLE6_DEPTH)

    # Sketch41 → Cut-Extrude10 (cut)
    with BuildSketch(Plane(origin=(0, 20.3, 0), x_dir=(1, 0, 0), z_dir=(0, 1, 0))):
        with BuildLine():
            Line((-52.653265146, -7.448877258), (-26.843867632, -33.258274771))
            ThreePointArc((-26.843867632, -33.258274771), (-25.785337315, -33.943332709), (-24.539076694, -34.134710012))
            Line((-24.539076694, -34.134710012), (-3.163472859, -55.510313847))
            Line((-3.163472859, -55.510313847), (-0.335045734, -52.681886722))
            Line((-0.335045734, -52.681886722), (-21.710649569, -31.306282887))
            ThreePointArc((-21.710649569, -31.306282887), (-21.902026872, -30.060022265), (-22.587084809, -29.001491949))
            Line((-22.587084809, -29.001491949), (-48.396482323, -3.192094435))
            ThreePointArc((-48.396482323, -3.192094435), (-52.653265146, -3.192094435), (-52.653265146, -7.448877258))
        make_face()
    extrude(amount=-CUT_EXTRUDE10_DEPTH, mode=Mode.SUBTRACT)

    # M3 Tapped Hole1
    with Locations(Plane(origin=(0, 6.3, 0), x_dir=(1, 0, 0), z_dir=(0, 1, 0))):
        with Locations((-36.02918472, -19.816174861)):
            Hole(M3_TAPPED_HOLE1_D / 2, depth=M3_TAPPED_HOLE1_DEPTH)
            with Locations((0, 0, -(M3_TAPPED_HOLE1_DEPTH + M3_TAPPED_HOLE1_TIP / 2))):  # 118° drill point
                Cone(0, M3_TAPPED_HOLE1_D / 2, M3_TAPPED_HOLE1_TIP, mode=Mode.SUBTRACT)


solid = part.part
